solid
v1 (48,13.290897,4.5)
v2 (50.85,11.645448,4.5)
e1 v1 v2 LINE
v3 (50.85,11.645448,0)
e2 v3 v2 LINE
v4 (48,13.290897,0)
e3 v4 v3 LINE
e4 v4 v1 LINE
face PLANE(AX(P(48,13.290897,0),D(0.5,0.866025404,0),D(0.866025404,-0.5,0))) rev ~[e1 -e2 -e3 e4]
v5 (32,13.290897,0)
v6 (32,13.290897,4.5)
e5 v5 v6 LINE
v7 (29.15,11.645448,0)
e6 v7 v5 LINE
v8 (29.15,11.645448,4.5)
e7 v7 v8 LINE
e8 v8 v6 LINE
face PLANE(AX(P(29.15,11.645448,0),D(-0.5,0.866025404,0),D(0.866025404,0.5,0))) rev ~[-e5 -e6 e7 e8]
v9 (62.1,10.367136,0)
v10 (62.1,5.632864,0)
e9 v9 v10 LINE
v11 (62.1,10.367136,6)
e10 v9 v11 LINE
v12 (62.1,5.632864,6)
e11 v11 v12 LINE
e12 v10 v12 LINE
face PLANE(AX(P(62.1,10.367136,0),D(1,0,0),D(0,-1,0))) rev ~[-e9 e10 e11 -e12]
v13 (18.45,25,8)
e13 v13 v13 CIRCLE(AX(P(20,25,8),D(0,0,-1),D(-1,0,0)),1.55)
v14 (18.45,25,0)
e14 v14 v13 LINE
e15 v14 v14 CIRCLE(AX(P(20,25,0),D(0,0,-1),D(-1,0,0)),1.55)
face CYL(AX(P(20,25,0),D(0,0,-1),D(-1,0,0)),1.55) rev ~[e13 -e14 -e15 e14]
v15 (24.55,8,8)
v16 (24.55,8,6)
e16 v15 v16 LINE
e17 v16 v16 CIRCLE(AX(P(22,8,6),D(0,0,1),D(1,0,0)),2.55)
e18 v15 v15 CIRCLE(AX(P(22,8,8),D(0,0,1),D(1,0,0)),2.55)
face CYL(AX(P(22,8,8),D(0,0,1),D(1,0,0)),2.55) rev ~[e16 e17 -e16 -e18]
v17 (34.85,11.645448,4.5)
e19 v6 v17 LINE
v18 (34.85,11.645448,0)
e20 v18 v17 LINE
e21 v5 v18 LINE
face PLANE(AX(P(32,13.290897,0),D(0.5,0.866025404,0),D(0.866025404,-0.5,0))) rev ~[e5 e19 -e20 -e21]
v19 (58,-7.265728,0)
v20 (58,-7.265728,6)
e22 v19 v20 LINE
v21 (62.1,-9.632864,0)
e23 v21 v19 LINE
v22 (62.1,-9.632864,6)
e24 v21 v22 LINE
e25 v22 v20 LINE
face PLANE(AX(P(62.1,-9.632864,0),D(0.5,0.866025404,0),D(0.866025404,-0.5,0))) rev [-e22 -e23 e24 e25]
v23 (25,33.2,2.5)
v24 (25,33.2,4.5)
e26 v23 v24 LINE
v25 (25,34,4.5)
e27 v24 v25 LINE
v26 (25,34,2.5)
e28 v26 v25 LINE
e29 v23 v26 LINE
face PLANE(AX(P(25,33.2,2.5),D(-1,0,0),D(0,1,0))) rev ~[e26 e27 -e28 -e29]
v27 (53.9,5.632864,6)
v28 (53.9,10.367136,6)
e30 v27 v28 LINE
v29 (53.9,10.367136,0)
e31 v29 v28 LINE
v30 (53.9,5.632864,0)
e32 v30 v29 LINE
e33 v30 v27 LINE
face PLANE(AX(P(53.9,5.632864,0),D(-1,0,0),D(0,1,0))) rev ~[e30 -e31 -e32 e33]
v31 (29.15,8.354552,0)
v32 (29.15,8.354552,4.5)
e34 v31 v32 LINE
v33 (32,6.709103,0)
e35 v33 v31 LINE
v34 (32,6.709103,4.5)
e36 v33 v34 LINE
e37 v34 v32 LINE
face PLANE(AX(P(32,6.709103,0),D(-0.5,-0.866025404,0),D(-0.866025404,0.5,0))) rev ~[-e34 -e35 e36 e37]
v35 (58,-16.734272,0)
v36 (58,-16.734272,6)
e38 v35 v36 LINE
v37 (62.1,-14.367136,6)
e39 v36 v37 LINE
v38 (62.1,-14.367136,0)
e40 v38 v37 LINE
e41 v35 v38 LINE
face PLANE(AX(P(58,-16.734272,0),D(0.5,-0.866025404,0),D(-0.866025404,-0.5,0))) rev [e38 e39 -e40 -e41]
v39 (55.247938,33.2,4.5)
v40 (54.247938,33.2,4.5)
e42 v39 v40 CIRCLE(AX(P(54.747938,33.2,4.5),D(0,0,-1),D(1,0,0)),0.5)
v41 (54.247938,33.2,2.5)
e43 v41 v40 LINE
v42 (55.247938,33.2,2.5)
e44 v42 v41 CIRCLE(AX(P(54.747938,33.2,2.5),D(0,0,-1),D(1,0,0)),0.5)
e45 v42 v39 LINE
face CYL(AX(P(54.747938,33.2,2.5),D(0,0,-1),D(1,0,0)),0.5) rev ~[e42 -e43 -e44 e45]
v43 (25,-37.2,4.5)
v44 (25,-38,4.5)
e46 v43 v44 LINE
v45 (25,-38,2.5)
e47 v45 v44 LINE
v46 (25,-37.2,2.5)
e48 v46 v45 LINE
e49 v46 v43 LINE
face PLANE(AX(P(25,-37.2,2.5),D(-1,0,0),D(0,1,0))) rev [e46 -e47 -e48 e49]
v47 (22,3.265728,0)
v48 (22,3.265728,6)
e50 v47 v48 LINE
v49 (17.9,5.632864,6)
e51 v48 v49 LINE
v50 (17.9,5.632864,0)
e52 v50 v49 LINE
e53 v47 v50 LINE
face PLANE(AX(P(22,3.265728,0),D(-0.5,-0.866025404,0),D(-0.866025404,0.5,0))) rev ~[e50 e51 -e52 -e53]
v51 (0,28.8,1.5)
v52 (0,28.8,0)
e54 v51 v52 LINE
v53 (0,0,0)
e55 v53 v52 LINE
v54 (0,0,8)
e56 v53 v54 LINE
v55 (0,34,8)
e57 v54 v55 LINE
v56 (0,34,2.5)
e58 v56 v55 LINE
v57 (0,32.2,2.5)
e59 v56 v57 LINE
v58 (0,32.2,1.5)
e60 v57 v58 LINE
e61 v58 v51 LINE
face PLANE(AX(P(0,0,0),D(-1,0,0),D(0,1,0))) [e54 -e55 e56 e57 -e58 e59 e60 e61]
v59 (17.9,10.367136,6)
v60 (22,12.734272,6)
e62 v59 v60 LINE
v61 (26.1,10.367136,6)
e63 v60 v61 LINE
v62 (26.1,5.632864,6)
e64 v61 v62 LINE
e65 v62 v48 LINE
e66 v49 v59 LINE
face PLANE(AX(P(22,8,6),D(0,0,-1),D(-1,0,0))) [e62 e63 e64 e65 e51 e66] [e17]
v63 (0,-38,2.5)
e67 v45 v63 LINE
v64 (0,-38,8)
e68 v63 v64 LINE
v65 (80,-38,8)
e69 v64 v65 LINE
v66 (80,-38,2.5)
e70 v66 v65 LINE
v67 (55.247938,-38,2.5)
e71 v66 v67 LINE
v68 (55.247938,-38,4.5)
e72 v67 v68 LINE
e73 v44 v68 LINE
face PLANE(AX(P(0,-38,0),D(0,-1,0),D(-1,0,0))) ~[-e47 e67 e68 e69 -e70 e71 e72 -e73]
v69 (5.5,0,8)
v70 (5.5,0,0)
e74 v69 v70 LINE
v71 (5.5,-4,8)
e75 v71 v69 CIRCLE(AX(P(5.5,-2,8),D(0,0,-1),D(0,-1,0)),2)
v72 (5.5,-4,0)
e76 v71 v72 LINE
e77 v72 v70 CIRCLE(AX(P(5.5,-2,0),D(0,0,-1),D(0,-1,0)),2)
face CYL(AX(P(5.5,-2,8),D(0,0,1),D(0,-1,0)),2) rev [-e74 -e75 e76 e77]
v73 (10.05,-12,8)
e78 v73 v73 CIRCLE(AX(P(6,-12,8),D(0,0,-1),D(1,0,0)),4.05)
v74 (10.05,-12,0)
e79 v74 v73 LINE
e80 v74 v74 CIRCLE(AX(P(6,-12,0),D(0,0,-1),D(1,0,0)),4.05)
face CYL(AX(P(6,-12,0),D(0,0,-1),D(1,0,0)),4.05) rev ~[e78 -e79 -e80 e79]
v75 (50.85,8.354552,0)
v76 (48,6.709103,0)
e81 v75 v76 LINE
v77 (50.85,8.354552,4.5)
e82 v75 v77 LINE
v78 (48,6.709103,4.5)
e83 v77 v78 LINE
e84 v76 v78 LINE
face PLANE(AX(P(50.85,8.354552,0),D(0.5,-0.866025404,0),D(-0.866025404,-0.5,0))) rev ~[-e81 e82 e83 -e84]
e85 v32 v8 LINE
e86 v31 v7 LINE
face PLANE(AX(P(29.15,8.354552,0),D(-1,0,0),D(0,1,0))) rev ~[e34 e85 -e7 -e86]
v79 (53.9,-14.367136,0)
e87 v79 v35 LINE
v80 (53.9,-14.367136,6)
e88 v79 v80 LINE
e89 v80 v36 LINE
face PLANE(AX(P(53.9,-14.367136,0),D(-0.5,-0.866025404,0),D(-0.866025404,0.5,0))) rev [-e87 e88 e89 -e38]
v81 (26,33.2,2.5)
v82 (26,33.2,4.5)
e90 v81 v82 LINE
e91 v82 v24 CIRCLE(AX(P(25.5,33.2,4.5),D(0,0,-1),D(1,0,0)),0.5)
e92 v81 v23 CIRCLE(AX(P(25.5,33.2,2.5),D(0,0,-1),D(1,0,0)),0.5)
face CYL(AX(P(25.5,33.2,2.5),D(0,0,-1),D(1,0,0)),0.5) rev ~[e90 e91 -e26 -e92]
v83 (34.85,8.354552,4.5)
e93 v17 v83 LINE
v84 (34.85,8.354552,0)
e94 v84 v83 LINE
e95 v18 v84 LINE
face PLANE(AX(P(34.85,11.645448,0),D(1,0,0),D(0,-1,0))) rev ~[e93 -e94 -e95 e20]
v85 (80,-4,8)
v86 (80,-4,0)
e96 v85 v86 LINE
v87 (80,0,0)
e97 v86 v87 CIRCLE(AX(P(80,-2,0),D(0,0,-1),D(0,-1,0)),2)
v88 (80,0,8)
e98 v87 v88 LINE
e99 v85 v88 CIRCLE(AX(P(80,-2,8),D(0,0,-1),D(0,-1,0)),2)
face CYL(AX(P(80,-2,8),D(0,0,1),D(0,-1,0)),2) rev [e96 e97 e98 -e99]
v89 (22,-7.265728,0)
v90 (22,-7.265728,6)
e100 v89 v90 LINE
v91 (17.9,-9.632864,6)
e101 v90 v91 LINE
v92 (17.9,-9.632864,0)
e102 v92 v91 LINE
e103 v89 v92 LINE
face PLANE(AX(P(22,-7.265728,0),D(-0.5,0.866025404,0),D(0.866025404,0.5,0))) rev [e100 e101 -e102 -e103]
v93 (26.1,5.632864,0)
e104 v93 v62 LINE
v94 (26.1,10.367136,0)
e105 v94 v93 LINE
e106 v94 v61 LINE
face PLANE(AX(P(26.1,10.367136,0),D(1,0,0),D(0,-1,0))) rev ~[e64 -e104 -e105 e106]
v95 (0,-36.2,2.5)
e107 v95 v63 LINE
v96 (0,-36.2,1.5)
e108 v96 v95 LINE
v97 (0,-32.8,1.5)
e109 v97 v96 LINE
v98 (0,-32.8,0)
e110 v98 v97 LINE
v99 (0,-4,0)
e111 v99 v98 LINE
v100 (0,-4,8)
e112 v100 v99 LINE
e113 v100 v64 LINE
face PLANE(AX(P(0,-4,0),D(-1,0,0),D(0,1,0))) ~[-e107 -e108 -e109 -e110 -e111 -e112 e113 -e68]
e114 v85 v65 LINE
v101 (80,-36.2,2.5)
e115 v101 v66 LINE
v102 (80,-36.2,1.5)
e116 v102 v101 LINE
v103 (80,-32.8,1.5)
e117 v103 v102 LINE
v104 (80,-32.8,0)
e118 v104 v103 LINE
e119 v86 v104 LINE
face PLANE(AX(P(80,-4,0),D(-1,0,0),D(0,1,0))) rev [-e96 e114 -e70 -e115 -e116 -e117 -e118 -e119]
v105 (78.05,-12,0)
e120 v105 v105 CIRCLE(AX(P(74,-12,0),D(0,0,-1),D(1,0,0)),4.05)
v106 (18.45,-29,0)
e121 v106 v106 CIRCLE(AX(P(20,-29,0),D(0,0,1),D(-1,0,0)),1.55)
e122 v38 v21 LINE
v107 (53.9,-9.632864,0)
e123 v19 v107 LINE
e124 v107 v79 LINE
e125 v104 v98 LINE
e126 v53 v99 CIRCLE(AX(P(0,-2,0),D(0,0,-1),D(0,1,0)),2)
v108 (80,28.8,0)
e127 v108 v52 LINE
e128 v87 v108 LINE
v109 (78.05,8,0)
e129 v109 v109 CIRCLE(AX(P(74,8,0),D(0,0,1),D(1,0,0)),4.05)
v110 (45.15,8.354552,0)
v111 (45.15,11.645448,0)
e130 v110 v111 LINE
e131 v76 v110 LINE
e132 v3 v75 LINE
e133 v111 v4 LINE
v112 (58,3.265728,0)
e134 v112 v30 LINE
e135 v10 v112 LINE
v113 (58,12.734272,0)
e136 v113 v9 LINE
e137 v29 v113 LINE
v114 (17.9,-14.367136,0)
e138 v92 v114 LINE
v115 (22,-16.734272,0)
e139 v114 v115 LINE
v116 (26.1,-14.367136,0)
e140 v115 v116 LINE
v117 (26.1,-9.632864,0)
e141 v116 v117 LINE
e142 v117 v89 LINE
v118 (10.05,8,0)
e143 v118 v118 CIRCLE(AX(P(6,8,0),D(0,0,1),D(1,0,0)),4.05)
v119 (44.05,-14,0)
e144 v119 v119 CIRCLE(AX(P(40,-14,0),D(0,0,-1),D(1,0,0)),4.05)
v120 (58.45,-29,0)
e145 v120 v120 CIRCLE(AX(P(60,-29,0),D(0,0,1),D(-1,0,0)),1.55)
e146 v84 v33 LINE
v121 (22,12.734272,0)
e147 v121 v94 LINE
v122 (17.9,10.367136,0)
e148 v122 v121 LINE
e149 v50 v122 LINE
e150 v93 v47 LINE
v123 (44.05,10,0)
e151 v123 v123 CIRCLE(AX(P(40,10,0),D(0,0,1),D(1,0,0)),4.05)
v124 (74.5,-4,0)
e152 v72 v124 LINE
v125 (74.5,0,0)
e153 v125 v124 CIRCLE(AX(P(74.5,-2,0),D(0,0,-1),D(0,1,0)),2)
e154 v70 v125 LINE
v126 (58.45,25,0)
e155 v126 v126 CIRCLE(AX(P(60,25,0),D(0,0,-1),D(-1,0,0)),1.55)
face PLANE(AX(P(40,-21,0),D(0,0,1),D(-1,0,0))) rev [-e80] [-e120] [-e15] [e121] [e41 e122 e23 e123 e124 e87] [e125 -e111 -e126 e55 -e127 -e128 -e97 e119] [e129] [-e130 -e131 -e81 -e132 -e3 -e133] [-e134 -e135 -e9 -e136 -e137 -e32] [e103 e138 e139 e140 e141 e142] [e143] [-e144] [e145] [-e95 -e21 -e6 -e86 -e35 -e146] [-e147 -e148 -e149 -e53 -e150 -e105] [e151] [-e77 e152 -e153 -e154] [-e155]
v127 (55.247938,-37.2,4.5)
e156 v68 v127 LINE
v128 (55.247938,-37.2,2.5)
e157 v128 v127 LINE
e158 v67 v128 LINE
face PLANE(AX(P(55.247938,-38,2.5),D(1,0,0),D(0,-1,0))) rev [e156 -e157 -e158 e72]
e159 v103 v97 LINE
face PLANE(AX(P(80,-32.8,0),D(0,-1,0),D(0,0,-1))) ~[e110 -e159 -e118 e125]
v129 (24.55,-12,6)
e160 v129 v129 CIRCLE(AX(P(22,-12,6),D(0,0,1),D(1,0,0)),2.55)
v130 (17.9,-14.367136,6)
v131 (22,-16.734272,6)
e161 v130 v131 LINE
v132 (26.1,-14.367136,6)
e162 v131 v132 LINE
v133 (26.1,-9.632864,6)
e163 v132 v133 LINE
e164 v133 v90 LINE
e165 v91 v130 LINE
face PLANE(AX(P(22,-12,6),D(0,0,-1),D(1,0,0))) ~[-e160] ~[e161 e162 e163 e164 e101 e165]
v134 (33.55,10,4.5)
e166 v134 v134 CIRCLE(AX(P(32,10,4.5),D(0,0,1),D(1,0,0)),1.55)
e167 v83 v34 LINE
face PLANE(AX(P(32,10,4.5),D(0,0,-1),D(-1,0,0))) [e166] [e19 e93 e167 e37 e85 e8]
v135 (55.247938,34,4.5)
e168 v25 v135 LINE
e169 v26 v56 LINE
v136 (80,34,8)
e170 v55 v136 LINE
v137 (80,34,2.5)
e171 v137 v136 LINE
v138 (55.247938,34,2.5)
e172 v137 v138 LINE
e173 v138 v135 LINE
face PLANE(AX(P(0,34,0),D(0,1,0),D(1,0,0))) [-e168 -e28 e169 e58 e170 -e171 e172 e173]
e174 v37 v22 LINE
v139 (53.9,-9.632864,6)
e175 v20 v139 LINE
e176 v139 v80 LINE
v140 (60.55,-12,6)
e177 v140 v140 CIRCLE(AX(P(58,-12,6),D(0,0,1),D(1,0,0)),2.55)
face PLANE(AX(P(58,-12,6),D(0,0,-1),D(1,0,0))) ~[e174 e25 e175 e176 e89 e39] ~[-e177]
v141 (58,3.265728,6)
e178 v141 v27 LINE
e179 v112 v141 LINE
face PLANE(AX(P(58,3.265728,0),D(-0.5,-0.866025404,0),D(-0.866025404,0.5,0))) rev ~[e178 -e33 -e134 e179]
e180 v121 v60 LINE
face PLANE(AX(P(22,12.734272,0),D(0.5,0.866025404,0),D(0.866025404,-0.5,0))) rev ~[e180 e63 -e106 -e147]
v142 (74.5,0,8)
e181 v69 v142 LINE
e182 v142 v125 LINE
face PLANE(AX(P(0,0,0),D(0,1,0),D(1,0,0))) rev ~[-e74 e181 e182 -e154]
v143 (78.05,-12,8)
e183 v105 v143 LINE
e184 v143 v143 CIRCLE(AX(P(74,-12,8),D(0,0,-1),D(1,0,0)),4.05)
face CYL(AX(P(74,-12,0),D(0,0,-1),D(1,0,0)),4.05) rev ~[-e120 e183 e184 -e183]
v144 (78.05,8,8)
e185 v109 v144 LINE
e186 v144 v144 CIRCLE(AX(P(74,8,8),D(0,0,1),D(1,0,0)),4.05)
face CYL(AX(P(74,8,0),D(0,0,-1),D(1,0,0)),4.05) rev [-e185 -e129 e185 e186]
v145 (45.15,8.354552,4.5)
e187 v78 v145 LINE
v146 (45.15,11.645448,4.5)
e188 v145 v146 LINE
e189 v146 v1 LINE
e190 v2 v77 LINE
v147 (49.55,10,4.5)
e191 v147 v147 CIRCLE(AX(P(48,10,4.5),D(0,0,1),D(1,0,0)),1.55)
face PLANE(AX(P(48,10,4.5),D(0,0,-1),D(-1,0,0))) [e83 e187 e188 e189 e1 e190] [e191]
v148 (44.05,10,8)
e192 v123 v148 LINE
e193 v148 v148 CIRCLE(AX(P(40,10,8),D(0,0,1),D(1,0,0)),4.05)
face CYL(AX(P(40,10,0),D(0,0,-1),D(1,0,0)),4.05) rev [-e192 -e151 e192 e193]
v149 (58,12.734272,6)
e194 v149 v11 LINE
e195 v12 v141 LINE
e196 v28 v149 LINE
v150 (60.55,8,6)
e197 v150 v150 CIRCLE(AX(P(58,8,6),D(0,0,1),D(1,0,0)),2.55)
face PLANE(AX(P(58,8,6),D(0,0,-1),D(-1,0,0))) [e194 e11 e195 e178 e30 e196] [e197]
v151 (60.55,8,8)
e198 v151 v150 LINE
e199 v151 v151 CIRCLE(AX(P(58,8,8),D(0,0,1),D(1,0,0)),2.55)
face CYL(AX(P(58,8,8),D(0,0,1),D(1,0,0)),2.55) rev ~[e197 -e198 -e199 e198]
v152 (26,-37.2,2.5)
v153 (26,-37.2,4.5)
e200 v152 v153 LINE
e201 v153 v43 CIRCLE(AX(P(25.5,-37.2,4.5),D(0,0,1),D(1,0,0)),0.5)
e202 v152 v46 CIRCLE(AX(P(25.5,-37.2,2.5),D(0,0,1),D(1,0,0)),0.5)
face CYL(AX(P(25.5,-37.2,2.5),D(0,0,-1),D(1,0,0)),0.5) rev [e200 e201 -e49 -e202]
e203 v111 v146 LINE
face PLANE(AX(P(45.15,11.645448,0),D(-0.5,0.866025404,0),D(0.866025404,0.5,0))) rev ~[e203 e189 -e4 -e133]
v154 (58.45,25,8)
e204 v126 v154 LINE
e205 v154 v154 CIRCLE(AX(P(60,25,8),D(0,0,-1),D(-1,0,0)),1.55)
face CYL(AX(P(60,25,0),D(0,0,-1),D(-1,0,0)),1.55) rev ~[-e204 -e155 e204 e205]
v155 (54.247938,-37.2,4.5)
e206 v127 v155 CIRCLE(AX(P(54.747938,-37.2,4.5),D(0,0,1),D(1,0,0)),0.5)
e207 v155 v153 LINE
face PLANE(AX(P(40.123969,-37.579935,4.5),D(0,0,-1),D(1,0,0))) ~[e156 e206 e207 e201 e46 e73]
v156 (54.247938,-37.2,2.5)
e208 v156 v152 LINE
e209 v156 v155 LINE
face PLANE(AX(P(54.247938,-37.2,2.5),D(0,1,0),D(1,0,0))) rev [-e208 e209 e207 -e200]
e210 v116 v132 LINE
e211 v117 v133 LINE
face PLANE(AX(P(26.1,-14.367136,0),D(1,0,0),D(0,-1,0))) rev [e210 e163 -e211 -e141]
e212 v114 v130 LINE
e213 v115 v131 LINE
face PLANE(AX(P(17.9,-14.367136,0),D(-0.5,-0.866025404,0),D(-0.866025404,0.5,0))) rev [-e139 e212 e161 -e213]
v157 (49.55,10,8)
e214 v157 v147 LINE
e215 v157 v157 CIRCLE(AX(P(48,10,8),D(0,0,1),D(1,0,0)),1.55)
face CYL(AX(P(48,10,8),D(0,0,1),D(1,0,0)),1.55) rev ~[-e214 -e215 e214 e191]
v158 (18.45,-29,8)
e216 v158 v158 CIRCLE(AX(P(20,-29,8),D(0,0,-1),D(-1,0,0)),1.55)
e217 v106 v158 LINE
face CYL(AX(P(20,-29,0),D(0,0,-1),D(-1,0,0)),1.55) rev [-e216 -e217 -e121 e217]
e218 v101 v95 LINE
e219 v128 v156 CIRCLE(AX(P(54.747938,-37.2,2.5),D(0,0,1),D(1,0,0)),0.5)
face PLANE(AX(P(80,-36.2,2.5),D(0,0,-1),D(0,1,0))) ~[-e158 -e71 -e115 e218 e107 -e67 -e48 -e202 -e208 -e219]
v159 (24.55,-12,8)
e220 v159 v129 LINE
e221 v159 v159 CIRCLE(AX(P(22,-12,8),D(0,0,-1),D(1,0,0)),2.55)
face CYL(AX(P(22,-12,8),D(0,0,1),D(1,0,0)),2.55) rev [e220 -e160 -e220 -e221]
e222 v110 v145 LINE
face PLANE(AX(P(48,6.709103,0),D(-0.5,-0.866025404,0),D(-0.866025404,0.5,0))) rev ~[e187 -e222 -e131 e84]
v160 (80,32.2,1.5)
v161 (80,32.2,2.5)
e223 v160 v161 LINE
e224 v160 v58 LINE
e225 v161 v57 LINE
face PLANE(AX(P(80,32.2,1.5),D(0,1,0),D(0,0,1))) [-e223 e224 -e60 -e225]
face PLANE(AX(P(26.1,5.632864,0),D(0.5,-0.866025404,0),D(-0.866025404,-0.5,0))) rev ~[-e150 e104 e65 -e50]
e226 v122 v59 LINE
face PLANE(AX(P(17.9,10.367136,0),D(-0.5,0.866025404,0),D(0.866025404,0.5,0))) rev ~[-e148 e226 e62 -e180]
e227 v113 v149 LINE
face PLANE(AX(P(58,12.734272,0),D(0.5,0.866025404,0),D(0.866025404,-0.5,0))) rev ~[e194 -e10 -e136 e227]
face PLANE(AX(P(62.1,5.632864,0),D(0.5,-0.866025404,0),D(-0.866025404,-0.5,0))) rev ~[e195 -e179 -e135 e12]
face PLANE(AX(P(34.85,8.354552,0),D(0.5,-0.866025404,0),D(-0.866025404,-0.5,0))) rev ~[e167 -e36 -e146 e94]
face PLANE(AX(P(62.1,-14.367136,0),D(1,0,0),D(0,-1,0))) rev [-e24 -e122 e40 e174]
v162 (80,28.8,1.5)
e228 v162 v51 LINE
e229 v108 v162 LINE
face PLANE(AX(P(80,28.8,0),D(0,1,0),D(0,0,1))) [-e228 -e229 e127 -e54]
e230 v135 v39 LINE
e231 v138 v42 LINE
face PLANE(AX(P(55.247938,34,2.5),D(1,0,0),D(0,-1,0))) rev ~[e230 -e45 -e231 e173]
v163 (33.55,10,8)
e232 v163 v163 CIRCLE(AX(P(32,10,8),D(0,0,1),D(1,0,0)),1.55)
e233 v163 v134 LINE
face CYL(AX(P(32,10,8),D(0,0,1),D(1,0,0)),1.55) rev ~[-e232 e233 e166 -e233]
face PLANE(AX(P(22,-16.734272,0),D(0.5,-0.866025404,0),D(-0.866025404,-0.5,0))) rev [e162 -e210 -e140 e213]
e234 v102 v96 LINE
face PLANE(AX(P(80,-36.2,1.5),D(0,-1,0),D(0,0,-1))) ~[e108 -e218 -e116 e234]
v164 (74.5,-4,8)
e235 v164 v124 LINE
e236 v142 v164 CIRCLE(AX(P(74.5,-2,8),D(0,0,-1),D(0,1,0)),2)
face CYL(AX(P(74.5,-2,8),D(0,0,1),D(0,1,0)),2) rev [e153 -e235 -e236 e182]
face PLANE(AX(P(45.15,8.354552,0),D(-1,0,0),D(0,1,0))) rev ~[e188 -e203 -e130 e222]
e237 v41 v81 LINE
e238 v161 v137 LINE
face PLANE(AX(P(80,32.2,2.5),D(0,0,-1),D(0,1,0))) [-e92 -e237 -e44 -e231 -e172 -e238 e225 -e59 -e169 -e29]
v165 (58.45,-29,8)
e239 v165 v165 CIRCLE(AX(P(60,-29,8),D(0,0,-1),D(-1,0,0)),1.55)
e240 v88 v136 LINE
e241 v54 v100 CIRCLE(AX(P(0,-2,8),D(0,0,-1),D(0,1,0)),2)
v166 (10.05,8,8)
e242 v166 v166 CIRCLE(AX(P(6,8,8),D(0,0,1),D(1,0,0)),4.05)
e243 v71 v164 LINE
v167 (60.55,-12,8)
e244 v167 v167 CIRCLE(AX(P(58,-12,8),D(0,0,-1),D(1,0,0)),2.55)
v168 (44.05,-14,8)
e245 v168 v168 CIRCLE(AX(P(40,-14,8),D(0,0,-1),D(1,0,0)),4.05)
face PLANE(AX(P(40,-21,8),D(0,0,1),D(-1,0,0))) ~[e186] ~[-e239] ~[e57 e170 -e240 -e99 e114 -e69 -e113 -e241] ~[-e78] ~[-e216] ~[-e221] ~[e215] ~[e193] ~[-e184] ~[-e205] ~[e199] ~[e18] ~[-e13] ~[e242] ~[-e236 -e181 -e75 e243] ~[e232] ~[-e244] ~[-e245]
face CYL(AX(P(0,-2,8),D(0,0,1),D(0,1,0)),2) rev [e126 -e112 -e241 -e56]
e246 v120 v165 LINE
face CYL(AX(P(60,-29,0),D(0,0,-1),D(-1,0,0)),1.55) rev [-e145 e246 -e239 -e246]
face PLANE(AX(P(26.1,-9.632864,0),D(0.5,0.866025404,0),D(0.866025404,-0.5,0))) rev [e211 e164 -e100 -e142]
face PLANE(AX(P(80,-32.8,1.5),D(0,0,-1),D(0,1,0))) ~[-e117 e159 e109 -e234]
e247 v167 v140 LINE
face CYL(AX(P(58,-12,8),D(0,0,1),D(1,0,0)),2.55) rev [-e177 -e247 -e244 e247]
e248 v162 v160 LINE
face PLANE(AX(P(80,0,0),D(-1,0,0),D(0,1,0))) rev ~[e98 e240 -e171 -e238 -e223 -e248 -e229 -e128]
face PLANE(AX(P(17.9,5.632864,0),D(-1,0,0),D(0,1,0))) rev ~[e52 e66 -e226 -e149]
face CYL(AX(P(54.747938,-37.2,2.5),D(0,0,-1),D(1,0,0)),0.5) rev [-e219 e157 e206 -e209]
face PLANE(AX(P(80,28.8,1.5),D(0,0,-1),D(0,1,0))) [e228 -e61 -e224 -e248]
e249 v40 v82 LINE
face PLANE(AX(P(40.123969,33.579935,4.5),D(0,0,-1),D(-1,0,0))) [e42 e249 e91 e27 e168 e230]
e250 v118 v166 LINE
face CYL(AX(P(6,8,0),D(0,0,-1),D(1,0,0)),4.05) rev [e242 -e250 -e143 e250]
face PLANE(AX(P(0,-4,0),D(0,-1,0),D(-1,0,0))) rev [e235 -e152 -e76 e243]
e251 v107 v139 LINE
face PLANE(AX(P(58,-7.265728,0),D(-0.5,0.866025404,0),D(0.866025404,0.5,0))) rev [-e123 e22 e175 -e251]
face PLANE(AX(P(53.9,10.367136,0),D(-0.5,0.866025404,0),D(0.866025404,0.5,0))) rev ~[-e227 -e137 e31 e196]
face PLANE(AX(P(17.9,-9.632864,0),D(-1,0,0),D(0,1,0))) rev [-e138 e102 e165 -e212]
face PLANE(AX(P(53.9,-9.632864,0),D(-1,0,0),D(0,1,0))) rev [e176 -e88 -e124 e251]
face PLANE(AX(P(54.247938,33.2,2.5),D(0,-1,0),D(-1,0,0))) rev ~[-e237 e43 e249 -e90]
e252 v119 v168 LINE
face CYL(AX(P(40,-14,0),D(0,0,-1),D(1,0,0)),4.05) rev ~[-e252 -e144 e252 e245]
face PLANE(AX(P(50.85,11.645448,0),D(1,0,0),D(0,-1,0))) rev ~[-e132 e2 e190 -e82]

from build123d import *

# Parameters (mm, degrees)
SKETCH_2_W           = 80
SKETCH_2_H           = 34
SKETCH_2_R           = 4.05
EXTRUDE_1_DEPTH      = 8
SKETCH_3_R           = 2.55
CUT_EXTRUDE_1_DEPTH  = 88.292611371
CUT_EXTRUDE_2_DEPTH  = 88.292611371
SKETCH_5_R           = 1.55
CUT_EXTRUDE_3_DEPTH  = 88.292611371
CUT_EXTRUDE_4_DEPTH  = 6
CUT_EXTRUDE_5_DEPTH  = 4.5
SKETCH_25_R          = 1.55
CUT_EXTRUDE_13_DEPTH = 88.292611371
CUT_EXTRUDE_11_DEPTH = 2
EXTRUDE_2_DEPTH      = 8


with BuildPart() as part:
    # 草图2 → 凸台-拉伸1 (new body)
    with BuildSketch(Plane.XY):
        with Locations((40, 17)):
            Rectangle(SKETCH_2_W, SKETCH_2_H)
        with Locations((6, 8)):
            Circle(SKETCH_2_R, mode=Mode.SUBTRACT)
        with Locations((40, 10)):
            Circle(SKETCH_2_R, mode=Mode.SUBTRACT)
        with Locations((74, 8)):
            Circle(SKETCH_2_R, mode=Mode.SUBTRACT)
    extrude_1 = extrude(amount=EXTRUDE_1_DEPTH)

    # 草图3 → 切除-拉伸1 (cut, through all)
    with BuildSketch(Plane.XY.offset(8)):
        with Locations((22, 8)):
            Circle(SKETCH_3_R)
        with Locations((58, 8)):
            Circle(SKETCH_3_R)
    cut_extrude_1 = extrude(amount=-CUT_EXTRUDE_1_DEPTH, mode=Mode.SUBTRACT)

    # 草图4 → 切除-拉伸2 (cut, through all)
    with BuildSketch(Plane(origin=(80, 0, 0), x_dir=(0, 0, -1), z_dir=(1, 0, 0))):
        Polygon((-1.5, 32.2), (-2.5, 32.2), (-2.5, 34), (0, 34), (0, 28.8), (-1.5, 28.8), align=None)
    cut_extrude_2 = extrude(amount=-CUT_EXTRUDE_2_DEPTH, mode=Mode.SUBTRACT)

    # 草图5 → 切除-拉伸3 (cut, through all)
    with BuildSketch(Plane.XY.offset(8)):
        with Locations((48, 10)):
            Circle(SKETCH_5_R)
        with Locations((32, 10)):
            Circle(SKETCH_5_R)
    extrude(amount=-CUT_EXTRUDE_3_DEPTH, mode=Mode.SUBTRACT)

    # 草图7 → 切除-拉伸4 (cut)
    with BuildSketch(Plane(origin=(0, 0, 0), x_dir=(-1, 0, 0), z_dir=(0, 0, -1))):
        Polygon((-53.9, 5.632863896), (-53.9, 10.367136104), (-58, 12.734272207), (-62.1, 10.367136104), (-62.1, 5.632863896), (-58, 3.265727793), align=None)
        Polygon((-26.1, 5.632863896), (-22, 3.265727793), (-17.9, 5.632863896), (-17.9, 10.367136104), (-22, 12.734272207), (-26.1, 10.367136104), align=None)
    cut_extrude_4 = extrude(amount=-CUT_EXTRUDE_4_DEPTH, mode=Mode.SUBTRACT)

    # 草图8 → 切除-拉伸5 (cut)
    with BuildSketch(Plane(origin=(0, 0, 0), x_dir=(-1, 0, 0), z_dir=(0, 0, -1))):
        Polygon((-48, 6.709103466), (-45.15, 8.354551733), (-45.15, 11.645448267), (-48, 13.290896534), (-50.85, 11.645448267), (-50.85, 8.354551733), align=None)
        Polygon((-32, 6.709103466), (-29.15, 8.354551733), (-29.15, 11.645448267), (-32, 13.290896534), (-34.85, 11.645448267), (-34.85, 8.354551733), align=None)
    extrude(amount=-CUT_EXTRUDE_5_DEPTH, mode=Mode.SUBTRACT)

    # 草图25 → 切除-拉伸13 (cut, through all)
    with BuildSketch(Plane(origin=(0, 0, 0), x_dir=(-1, 0, 0), z_dir=(0, 0, -1))):
        with Locations((-60, 25)):
            Circle(SKETCH_25_R)
        with Locations((-20, 25)):
            Circle(SKETCH_25_R)
    cut_extrude_13 = extrude(amount=-CUT_EXTRUDE_13_DEPTH, mode=Mode.SUBTRACT)

    # 草图19 → 切除-拉伸11 (cut)
    with BuildSketch(Plane(origin=(0, 0, 2.5), x_dir=(-1, 0, 0), z_dir=(0, 0, -1))):
        with BuildLine():
            Line((-25, 34), (-55.247938178, 34))
            Line((-55.247938178, 34), (-55.247938178, 33.2))
            ThreePointArc((-55.247938178, 33.2), (-54.747938178, 32.7), (-54.247938178, 33.2))
            Line((-54.247938178, 33.2), (-26, 33.2))
            ThreePointArc((-26, 33.2), (-25.5, 32.7), (-25, 33.2))
            Line((-25, 33.2), (-25, 34))
        make_face()
    cut_extrude_11 = extrude(amount=-CUT_EXTRUDE_11_DEPTH, mode=Mode.SUBTRACT)

    # 草图22 → 凸台-拉伸2 (add)
    with BuildSketch(Plane.XY.offset(8)):
        with BuildLine():
            Line((0, -4), (5.5, -4))
            ThreePointArc((5.5, -4), (3.5, -2), (5.5, 0))
            Line((5.5, 0), (0, 0))
            ThreePointArc((0, 0), (2, -2), (0, -4))
        make_face()
        with BuildLine():
            Line((80, 0), (74.5, 0))
            ThreePointArc((74.5, 0), (76.5, -2), (74.5, -4))
            Line((74.5, -4), (80, -4))
            ThreePointArc((80, -4), (78, -2), (80, 0))
        make_face()
    extrude(amount=-EXTRUDE_2_DEPTH)

    # 镜向2: 凸台-拉伸1, 切除-拉伸1, 切除-拉伸2, 切除-拉伸4, 切除-拉伸13, 切除-拉伸11 across plane
    add(extrude_1.mirror(Plane(origin=(0, -2, 0), x_dir=(0, 0, 1), z_dir=(0, -1, 0))))
    add(cut_extrude_1.mirror(Plane(origin=(0, -2, 0), x_dir=(0, 0, 1), z_dir=(0, -1, 0))), mode=Mode.SUBTRACT)
    add(cut_extrude_2.mirror(Plane(origin=(0, -2, 0), x_dir=(0, 0, 1), z_dir=(0, -1, 0))), mode=Mode.SUBTRACT)
    add(cut_extrude_4.mirror(Plane(origin=(0, -2, 0), x_dir=(0, 0, 1), z_dir=(0, -1, 0))), mode=Mode.SUBTRACT)
    add(cut_extrude_13.mirror(Plane(origin=(0, -2, 0), x_dir=(0, 0, 1), z_dir=(0, -1, 0))), mode=Mode.SUBTRACT)
    add(cut_extrude_11.mirror(Plane(origin=(0, -2, 0), x_dir=(0, 0, 1), z_dir=(0, -1, 0))), mode=Mode.SUBTRACT)


solid = part.part
